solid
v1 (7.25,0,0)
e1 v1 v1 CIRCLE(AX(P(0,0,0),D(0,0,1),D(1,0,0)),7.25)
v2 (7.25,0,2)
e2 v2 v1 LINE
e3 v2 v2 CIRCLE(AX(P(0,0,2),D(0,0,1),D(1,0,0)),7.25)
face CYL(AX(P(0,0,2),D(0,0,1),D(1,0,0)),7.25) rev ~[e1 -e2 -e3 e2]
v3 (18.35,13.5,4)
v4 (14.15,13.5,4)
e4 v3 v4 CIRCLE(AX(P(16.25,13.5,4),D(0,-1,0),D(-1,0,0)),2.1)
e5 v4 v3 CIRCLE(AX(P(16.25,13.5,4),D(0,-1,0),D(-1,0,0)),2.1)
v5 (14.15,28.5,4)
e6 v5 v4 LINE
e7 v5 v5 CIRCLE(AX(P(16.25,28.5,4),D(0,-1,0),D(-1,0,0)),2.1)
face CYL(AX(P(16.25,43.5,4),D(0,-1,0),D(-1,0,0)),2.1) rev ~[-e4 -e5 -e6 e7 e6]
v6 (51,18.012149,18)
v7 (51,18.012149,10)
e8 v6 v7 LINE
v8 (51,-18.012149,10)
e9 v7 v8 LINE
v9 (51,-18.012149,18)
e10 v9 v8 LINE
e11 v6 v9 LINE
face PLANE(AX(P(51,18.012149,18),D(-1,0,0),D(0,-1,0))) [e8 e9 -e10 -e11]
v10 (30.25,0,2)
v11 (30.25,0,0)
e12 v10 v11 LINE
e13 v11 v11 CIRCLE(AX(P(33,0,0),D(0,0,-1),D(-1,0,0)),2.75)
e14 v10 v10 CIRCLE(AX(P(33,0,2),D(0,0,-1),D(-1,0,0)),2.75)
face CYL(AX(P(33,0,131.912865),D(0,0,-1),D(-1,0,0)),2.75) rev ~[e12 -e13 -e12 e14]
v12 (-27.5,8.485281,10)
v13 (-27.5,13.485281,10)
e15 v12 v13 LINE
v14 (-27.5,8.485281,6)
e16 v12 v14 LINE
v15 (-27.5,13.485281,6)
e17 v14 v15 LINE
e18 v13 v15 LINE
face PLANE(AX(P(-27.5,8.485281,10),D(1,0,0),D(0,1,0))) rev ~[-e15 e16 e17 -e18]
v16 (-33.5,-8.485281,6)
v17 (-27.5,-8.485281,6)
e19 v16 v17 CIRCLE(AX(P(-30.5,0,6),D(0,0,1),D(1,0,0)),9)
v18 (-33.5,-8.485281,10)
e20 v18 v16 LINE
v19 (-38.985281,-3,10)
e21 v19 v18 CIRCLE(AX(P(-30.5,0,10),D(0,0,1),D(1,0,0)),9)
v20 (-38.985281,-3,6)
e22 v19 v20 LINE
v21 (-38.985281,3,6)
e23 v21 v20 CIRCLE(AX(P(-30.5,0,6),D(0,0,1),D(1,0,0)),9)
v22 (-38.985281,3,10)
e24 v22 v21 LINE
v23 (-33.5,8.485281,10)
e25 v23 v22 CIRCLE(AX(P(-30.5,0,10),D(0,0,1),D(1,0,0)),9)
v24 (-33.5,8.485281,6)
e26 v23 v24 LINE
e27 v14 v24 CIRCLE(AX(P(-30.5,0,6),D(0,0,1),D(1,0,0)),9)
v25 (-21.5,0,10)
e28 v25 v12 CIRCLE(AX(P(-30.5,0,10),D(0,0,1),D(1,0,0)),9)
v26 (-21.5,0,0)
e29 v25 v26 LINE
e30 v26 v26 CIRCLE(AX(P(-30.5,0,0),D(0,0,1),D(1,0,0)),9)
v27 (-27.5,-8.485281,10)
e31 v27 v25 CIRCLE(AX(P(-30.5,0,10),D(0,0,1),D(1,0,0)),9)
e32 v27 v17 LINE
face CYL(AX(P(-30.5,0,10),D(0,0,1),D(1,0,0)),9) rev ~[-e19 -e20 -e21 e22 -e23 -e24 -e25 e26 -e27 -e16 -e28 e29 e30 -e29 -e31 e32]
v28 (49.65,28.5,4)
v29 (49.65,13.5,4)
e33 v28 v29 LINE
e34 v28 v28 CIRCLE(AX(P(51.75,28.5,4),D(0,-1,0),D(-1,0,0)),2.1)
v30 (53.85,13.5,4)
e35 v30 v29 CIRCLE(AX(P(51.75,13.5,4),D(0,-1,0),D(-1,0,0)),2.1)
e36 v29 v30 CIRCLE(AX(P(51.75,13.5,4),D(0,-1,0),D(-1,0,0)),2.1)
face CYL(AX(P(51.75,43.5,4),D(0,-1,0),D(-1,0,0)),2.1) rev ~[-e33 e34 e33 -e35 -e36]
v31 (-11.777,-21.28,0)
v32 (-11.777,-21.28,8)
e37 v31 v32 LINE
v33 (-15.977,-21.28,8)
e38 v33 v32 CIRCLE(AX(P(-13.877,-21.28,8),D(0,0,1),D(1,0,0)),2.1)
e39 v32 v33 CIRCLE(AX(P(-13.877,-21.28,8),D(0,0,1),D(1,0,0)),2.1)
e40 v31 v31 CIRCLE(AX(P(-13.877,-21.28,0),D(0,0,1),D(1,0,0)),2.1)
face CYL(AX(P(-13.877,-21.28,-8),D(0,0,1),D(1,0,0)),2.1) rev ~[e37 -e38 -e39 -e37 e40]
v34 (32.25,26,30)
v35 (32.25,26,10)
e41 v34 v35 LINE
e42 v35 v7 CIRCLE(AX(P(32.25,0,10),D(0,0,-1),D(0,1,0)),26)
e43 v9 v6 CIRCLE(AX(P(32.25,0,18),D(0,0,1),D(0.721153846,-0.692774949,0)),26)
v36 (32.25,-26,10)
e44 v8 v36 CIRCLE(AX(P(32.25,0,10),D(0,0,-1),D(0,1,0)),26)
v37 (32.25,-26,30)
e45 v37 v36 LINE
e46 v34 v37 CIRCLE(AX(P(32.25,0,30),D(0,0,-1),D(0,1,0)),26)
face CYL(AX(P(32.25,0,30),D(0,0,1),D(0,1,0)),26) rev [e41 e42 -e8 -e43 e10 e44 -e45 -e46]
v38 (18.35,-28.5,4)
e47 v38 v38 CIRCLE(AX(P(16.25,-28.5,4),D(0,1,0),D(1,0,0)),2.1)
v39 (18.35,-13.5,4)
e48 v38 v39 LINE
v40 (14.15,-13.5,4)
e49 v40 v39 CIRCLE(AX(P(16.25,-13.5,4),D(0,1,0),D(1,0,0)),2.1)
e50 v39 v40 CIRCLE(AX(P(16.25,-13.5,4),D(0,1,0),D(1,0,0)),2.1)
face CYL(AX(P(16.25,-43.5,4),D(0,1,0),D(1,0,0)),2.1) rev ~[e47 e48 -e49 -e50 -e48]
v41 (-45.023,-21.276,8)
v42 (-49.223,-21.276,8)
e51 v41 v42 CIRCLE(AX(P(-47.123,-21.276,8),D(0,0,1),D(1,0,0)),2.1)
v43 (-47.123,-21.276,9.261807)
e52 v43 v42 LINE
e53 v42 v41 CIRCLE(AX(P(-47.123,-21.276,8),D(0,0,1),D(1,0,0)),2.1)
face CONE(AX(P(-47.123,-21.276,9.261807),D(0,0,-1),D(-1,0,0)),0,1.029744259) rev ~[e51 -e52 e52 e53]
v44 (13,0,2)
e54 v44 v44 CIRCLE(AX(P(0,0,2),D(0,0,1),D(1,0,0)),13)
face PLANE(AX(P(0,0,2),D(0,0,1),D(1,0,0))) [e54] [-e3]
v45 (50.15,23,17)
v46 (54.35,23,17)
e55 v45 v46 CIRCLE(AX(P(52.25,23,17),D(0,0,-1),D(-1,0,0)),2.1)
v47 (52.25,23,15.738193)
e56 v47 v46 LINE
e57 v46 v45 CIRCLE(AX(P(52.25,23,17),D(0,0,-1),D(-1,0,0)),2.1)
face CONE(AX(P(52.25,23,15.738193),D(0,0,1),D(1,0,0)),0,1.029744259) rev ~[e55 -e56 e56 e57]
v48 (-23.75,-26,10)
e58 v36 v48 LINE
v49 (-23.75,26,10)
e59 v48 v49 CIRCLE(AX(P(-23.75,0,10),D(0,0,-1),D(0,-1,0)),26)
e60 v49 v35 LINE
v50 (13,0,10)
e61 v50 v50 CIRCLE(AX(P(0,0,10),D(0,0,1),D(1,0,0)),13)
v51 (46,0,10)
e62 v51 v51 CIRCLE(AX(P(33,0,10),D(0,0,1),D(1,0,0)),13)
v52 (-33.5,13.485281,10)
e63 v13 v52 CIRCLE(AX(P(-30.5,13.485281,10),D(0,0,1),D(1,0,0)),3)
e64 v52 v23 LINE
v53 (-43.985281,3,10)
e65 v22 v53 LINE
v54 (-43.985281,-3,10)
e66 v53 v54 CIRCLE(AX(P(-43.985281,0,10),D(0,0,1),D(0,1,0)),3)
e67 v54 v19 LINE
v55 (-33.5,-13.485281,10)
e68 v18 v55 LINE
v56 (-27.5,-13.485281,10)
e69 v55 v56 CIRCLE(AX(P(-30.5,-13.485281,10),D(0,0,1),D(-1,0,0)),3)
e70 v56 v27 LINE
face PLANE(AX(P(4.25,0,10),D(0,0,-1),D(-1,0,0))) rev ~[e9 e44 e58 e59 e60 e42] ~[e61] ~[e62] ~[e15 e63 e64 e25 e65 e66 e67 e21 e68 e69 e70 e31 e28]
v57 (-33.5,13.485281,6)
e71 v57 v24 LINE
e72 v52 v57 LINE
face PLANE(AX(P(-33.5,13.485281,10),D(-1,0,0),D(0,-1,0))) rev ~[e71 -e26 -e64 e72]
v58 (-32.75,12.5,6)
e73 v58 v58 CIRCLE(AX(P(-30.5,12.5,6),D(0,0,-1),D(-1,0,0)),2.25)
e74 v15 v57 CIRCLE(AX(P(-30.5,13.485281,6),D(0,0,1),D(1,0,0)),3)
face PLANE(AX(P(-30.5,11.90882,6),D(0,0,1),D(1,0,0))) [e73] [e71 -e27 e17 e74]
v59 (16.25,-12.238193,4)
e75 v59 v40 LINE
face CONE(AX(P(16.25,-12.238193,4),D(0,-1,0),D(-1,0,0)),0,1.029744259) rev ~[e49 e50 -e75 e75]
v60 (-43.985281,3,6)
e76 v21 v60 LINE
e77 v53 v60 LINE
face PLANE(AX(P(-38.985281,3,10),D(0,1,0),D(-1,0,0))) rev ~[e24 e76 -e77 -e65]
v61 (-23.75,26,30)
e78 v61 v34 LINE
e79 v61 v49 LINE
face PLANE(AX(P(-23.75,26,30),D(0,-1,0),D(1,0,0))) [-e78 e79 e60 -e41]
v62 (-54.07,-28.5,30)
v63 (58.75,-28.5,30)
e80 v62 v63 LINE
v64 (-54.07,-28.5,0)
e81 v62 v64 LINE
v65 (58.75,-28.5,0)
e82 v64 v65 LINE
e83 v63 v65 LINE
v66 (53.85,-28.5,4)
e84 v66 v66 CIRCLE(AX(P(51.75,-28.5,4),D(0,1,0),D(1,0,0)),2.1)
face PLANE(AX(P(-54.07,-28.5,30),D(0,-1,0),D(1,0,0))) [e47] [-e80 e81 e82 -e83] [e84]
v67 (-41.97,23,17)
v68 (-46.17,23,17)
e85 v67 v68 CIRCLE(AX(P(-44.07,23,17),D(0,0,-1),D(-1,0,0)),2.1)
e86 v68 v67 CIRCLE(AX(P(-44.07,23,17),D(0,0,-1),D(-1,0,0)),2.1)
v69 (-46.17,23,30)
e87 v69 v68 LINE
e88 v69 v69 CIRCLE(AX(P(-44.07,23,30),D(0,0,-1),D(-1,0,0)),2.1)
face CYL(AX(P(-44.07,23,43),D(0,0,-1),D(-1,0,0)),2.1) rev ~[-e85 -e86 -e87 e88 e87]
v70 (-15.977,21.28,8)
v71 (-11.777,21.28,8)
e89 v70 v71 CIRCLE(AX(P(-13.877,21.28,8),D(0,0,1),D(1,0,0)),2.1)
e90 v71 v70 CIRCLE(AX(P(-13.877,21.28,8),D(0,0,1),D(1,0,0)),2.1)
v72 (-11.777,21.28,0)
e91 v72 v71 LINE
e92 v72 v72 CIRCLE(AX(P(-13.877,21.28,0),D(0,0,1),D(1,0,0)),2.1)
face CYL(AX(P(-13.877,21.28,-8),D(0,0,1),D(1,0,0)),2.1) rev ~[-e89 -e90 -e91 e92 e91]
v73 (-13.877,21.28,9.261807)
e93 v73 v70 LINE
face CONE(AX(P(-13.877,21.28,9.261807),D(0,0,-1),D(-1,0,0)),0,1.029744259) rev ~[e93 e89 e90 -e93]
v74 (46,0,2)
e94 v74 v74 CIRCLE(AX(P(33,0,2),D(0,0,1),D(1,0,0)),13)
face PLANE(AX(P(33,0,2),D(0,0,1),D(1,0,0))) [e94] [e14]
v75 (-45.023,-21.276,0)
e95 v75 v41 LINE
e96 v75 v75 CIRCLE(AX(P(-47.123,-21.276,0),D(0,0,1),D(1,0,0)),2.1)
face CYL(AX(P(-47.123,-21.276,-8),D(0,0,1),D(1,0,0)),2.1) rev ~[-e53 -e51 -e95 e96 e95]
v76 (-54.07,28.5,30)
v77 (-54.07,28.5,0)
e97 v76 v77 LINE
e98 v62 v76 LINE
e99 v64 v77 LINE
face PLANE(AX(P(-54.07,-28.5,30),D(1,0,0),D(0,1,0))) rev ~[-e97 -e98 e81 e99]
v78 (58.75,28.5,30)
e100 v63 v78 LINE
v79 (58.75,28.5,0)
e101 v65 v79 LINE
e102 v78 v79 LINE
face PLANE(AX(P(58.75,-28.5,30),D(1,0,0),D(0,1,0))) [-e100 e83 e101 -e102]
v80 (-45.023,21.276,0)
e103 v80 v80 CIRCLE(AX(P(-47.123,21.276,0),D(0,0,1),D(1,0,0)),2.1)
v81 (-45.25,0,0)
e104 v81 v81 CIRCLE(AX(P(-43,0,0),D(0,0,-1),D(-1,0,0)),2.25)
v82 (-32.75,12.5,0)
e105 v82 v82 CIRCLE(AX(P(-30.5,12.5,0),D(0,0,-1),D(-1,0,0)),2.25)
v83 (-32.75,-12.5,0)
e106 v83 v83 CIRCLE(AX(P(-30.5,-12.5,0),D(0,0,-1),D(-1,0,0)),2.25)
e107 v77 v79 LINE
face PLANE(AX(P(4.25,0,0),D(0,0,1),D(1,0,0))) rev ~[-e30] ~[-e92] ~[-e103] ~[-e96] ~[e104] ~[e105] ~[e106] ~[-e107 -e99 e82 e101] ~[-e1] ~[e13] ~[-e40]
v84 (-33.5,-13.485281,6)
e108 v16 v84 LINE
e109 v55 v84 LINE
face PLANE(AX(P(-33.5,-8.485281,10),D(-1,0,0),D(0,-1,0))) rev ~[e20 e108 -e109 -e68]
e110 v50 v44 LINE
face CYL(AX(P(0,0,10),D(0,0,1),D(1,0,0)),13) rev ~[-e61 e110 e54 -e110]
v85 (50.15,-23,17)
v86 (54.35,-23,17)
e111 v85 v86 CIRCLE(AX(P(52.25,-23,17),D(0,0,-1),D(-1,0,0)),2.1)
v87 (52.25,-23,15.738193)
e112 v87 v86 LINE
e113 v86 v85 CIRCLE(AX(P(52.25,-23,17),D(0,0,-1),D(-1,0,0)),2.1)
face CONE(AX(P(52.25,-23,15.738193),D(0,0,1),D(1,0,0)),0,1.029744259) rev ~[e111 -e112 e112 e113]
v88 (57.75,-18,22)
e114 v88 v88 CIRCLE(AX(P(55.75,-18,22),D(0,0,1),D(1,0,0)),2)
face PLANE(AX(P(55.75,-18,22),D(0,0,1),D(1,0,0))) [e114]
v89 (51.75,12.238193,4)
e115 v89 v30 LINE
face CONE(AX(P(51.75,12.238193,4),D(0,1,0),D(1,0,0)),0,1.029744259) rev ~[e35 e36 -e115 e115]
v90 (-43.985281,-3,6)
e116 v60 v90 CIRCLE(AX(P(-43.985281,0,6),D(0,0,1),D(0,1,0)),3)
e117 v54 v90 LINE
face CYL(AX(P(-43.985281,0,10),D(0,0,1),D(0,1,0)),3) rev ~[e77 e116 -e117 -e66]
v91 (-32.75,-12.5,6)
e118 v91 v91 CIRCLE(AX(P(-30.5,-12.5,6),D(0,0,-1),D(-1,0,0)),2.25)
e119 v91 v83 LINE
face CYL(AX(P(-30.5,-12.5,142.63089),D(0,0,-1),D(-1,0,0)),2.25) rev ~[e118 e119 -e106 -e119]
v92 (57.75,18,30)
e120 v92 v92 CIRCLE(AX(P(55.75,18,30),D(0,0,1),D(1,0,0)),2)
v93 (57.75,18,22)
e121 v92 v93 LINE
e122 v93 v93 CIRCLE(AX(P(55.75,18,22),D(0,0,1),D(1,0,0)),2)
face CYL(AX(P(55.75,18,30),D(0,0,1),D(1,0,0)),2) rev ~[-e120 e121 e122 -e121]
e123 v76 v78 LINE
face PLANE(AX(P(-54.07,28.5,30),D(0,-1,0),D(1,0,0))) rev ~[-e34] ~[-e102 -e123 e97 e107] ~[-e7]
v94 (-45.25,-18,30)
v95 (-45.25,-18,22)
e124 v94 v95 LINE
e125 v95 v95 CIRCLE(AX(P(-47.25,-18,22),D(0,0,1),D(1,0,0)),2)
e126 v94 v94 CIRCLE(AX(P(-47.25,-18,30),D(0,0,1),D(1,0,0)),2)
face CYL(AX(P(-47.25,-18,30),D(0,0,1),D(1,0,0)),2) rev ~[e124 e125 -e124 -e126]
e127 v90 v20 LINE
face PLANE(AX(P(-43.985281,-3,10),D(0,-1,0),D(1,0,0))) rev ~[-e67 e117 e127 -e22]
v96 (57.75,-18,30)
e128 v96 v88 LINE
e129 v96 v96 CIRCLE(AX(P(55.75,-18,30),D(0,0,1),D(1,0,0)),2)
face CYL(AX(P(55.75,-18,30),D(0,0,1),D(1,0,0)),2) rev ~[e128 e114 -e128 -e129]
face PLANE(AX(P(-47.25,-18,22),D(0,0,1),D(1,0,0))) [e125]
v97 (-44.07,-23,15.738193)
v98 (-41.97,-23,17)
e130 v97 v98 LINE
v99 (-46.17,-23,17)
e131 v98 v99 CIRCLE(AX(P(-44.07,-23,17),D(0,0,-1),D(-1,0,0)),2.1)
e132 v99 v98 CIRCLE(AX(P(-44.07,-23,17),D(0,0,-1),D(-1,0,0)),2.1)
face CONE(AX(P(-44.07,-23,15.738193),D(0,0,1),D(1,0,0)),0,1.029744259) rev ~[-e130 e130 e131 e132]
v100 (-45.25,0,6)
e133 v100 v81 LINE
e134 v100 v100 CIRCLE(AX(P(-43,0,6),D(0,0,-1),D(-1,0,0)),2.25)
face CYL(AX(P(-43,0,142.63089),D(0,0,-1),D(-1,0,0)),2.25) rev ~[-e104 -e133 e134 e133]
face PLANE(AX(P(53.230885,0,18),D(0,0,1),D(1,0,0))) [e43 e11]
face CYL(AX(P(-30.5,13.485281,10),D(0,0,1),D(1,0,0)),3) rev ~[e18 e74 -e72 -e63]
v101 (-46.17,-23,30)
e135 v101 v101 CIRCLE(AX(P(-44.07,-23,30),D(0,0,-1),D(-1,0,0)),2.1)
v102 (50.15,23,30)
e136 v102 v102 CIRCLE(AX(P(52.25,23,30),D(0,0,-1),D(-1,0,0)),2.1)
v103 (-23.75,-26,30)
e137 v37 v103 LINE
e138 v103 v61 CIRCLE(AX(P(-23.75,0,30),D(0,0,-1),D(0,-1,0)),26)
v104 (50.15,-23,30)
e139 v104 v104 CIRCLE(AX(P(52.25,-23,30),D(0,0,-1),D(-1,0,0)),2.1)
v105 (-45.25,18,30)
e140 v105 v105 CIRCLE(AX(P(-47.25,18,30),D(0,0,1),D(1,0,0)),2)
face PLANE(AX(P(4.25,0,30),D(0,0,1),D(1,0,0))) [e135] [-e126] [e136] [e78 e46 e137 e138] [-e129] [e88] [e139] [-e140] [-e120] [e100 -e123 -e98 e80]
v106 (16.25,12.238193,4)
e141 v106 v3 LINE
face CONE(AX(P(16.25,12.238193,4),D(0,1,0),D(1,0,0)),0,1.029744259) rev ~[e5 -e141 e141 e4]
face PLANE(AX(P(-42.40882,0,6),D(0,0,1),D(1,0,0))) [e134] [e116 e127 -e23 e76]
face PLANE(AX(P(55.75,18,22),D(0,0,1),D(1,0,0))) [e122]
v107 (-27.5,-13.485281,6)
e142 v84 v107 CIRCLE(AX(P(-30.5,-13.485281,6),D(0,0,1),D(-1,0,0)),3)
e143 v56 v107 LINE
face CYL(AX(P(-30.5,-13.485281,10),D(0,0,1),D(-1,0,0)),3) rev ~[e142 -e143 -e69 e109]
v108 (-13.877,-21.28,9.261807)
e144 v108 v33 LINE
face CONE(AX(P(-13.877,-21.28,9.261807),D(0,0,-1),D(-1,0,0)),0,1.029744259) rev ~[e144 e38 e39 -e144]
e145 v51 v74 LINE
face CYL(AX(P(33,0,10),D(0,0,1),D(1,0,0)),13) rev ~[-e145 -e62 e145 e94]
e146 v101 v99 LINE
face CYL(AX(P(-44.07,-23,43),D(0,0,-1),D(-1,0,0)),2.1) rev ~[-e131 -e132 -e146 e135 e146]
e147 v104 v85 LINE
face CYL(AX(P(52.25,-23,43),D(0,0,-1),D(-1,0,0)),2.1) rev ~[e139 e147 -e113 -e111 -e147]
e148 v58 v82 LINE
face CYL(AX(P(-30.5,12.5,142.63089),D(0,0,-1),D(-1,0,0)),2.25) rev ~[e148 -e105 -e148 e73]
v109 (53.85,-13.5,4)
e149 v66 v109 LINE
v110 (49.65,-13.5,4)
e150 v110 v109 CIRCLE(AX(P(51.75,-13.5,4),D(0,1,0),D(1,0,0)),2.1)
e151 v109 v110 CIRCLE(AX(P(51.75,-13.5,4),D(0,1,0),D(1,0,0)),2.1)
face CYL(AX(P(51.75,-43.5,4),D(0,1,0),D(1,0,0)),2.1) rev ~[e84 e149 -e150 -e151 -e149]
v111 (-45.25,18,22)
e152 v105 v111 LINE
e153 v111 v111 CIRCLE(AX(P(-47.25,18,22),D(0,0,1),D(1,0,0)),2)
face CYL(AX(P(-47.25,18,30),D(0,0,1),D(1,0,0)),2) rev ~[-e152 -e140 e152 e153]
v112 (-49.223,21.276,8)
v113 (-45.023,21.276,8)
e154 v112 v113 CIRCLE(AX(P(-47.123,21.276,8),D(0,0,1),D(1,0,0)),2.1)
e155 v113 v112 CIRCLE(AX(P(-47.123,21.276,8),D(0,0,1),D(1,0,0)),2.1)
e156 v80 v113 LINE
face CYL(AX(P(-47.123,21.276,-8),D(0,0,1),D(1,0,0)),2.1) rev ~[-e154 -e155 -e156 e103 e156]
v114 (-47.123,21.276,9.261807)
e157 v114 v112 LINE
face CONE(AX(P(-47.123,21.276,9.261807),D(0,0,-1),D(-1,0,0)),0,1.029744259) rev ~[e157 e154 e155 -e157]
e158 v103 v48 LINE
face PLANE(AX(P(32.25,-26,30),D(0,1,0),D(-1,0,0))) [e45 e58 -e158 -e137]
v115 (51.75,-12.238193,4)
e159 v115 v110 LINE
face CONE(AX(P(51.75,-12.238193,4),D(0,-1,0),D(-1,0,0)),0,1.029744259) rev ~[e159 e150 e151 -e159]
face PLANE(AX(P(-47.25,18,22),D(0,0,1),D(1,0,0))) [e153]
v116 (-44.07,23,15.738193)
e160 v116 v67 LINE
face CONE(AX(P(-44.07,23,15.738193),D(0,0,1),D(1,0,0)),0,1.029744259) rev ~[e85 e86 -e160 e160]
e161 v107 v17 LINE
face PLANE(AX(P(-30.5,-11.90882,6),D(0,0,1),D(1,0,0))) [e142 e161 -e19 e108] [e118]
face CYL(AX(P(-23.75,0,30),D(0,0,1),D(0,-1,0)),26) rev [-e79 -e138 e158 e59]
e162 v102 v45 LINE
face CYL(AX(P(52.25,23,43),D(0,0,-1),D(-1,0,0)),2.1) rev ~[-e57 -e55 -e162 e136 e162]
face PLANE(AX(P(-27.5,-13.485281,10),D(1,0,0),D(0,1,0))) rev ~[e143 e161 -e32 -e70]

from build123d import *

# Parameters (mm, degrees)
ESBO_O1_W                                   = 118
ESBO_O1_H                                   = 62
RESSALTO_EXTRUS_O1_DEPTH                    = 30
CORTE_EXTRUS_O1_DEPTH                       = 20
RESSALTO_EXTRUS_O2_START                    = 8
RESSALTO_EXTRUS_O2_DEPTH                    = 8
ESBO_O4_R                                   = 9
ESBO_O4_R_2                                 = 13
CORTE_EXTRUS_O2_DEPTH                       = 8
ESBO_O5_R                                   = 2
CORTE_EXTRUS_O3_DEPTH                       = 8
CORTE_EXTRUS_O4_DEPTH                       = 4
BROCA_DE_ROSQUEAR_PARA_TARRAXA_DE_M52_D     = 4.2
BROCA_DE_ROSQUEAR_PARA_TARRAXA_DE_M52_DEPTH = 13
BROCA_DE_ROSQUEAR_PARA_TARRAXA_DE_M52_TIP   = 1.2618073
FURO_COM_FOLGA_DE_M41_D                     = 4.5
ESBO_O17_W                                  = 118
ESBO_O17_H                                  = 62
ESBO_O17_W_2                                = 112.82
ESBO_O17_H_2                                = 57
CORTE_EXTRUS_O5_DEPTH                       = 77.560841819
BROCA_DE_ROSQUEAR_PARA_TARRAXA_DE_M54_D     = 4.2
BROCA_DE_ROSQUEAR_PARA_TARRAXA_DE_M54_DEPTH = 15
BROCA_DE_ROSQUEAR_PARA_TARRAXA_DE_M54_TIP   = 1.2618073
BROCA_DE_ROSQUEAR_PARA_TARRAXA_DE_M55_D     = 4.2
BROCA_DE_ROSQUEAR_PARA_TARRAXA_DE_M55_DEPTH = 15
BROCA_DE_ROSQUEAR_PARA_TARRAXA_DE_M55_TIP   = 1.2618073
ESBO_O25_R                                  = 9
CORTE_EXTRUS_O6_DEPTH                       = 69.29211155
BROCA_DE_ROSQUEAR_PARA_TARRAXA_DE_M56_D     = 4.2
BROCA_DE_ROSQUEAR_PARA_TARRAXA_DE_M56_DEPTH = 8
BROCA_DE_ROSQUEAR_PARA_TARRAXA_DE_M56_TIP   = 1.2618073
FURO_COM_FOLGA_DE_M51_D                     = 5.5
ESBO_O30_R                                  = 7.25
CORTE_EXTRUS_O9_DEPTH                       = 10


with BuildPart() as part:
    # Esboço1 → Ressalto-extrusão1 (new body)
    with BuildSketch(Plane.XY):
        with Locations((4.25, 0)):
            Rectangle(ESBO_O1_W, ESBO_O1_H)
    extrude(amount=RESSALTO_EXTRUS_O1_DEPTH)

    # Esboço2 → Corte-extrusão1 (cut)
    with BuildSketch(Plane.XY.offset(30)):
        with BuildLine():
            Line((-23.75, 26), (32.25, 26))
            ThreePointArc((32.25, 26), (58.25, 0), (32.25, -26))
            Line((32.25, -26), (-23.75, -26))
            ThreePointArc((-23.75, -26), (-49.75, 0), (-23.75, 26))
        make_face()
    extrude(amount=-CORTE_EXTRUS_O1_DEPTH, mode=Mode.SUBTRACT)

    # Esboço3 → Ressalto-extrusão2 (add)
    with BuildSketch(Plane.XY.offset(10).offset(RESSALTO_EXTRUS_O2_START)):
        with BuildLine():
            Line((51, 18.012148678), (51, -18.012148678))
            ThreePointArc((51, -18.012148678), (58.25, 0), (51, 18.012148678))
        make_face()
    extrude(amount=-RESSALTO_EXTRUS_O2_DEPTH)

    # Esboço4 → Corte-extrusão2 (cut)
    with BuildSketch(Plane.XY.offset(10)):
        with Locations((-30.5, 0)):
            Circle(ESBO_O4_R)
        Circle(ESBO_O4_R_2)
        with Locations((33, 0)):
            Circle(ESBO_O4_R_2)
    extrude(amount=-CORTE_EXTRUS_O2_DEPTH, mode=Mode.SUBTRACT)

    # Esboço5 → Corte-extrusão3 (cut)
    with BuildSketch(Plane.XY.offset(30)):
        with Locations((-47.25, 18)):
            Circle(ESBO_O5_R)
        with Locations((55.75, 18)):
            Circle(ESBO_O5_R)
        with Locations((55.75, -18)):
            Circle(ESBO_O5_R)
        with Locations((-47.25, -18)):
            Circle(ESBO_O5_R)
    extrude(amount=-CORTE_EXTRUS_O3_DEPTH, mode=Mode.SUBTRACT)

    # Esboço6 → Corte-extrusão4 (cut)
    with BuildSketch(Plane.XY.offset(10)):
        with BuildLine():
            Line((-38.985281374, 3), (-43.985281374, 3))
            ThreePointArc((-43.985281374, 3), (-46.985281374, 0), (-43.985281374, -3))
            Line((-43.985281374, -3), (-38.985281374, -3))
            Line((-38.985281374, -3), (-38.985281374, 3))
        make_face()
        with BuildLine():
            Line((-33.5, 8.485281374), (-27.5, 8.485281374))
            Line((-27.5, 8.485281374), (-27.5, 13.485281374))
            ThreePointArc((-27.5, 13.485281374), (-30.5, 16.485281374), (-33.5, 13.485281374))
            Line((-33.5, 13.485281374), (-33.5, 8.485281374))
        make_face()
        with BuildLine():
            Line((-33.5, -8.485281374), (-33.5, -13.485281374))
            ThreePointArc((-33.5, -13.485281374), (-30.5, -16.485281374), (-27.5, -13.485281374))
            Line((-27.5, -13.485281374), (-27.5, -8.485281374))
            Line((-27.5, -8.485281374), (-33.5, -8.485281374))
        make_face()
    extrude(amount=-CORTE_EXTRUS_O4_DEPTH, mode=Mode.SUBTRACT)

    # Broca de rosquear para tarraxa de M52
    with Locations(Plane.XY.offset(30)):
        with Locations((-44.07, 23), (-44.07, -23), (52.25, -23), (52.25, 23)):
            Hole(BROCA_DE_ROSQUEAR_PARA_TARRAXA_DE_M52_D / 2, depth=BROCA_DE_ROSQUEAR_PARA_TARRAXA_DE_M52_DEPTH)
            with Locations((0, 0, -(BROCA_DE_ROSQUEAR_PARA_TARRAXA_DE_M52_DEPTH + BROCA_DE_ROSQUEAR_PARA_TARRAXA_DE_M52_TIP / 2))):  # 118° drill point
                Cone(0, BROCA_DE_ROSQUEAR_PARA_TARRAXA_DE_M52_D / 2, BROCA_DE_ROSQUEAR_PARA_TARRAXA_DE_M52_TIP, mode=Mode.SUBTRACT)

    # Furo com folga de M41 (through all)
    with Locations(Plane.XY.offset(6)):
        with Locations((-30.5, -12.5), (-43, 0), (-30.5, 12.5)):
            Hole(FURO_COM_FOLGA_DE_M41_D / 2)

    # Esboço17 → Corte-extrusão5 (cut, through all)
    with BuildSketch(Plane.XY.offset(30)):
        with Locations((4.25, 0)):
            Rectangle(ESBO_O17_W, ESBO_O17_H)
        with Locations((2.34, 0)):
            Rectangle(ESBO_O17_W_2, ESBO_O17_H_2, mode=Mode.SUBTRACT)
    extrude(amount=-CORTE_EXTRUS_O5_DEPTH, mode=Mode.SUBTRACT)

    # Broca de rosquear para tarraxa de M54
    with Locations(Plane(origin=(0, -28.5, 0), x_dir=(-1, 0, 0), z_dir=(0, -1, 0))):
        with Locations((-51.75, -4), (-16.25, -4)):
            Hole(BROCA_DE_ROSQUEAR_PARA_TARRAXA_DE_M54_D / 2, depth=BROCA_DE_ROSQUEAR_PARA_TARRAXA_DE_M54_DEPTH)
            with Locations((0, 0, -(BROCA_DE_ROSQUEAR_PARA_TARRAXA_DE_M54_DEPTH + BROCA_DE_ROSQUEAR_PARA_TARRAXA_DE_M54_TIP / 2))):  # 118° drill point
                Cone(0, BROCA_DE_ROSQUEAR_PARA_TARRAXA_DE_M54_D / 2, BROCA_DE_ROSQUEAR_PARA_TARRAXA_DE_M54_TIP, mode=Mode.SUBTRACT)

    # Broca de rosquear para tarraxa de M55
    with Locations(Plane(origin=(0, 28.5, 0), x_dir=(1, 0, 0), z_dir=(0, 1, 0))):
        with Locations((51.75, -4), (16.25, -4)):
            Hole(BROCA_DE_ROSQUEAR_PARA_TARRAXA_DE_M55_D / 2, depth=BROCA_DE_ROSQUEAR_PARA_TARRAXA_DE_M55_DEPTH)
            with Locations((0, 0, -(BROCA_DE_ROSQUEAR_PARA_TARRAXA_DE_M55_DEPTH + BROCA_DE_ROSQUEAR_PARA_TARRAXA_DE_M55_TIP / 2))):  # 118° drill point
                Cone(0, BROCA_DE_ROSQUEAR_PARA_TARRAXA_DE_M55_D / 2, BROCA_DE_ROSQUEAR_PARA_TARRAXA_DE_M55_TIP, mode=Mode.SUBTRACT)

    # Esboço25 → Corte-extrusão6 (cut, through all)
    with BuildSketch(Plane.XY.offset(10)):
        with Locations((-30.5, 0)):
            Circle(ESBO_O25_R)
    extrude(amount=-CORTE_EXTRUS_O6_DEPTH, mode=Mode.SUBTRACT)

    # Broca de rosquear para tarraxa de M56
    with Locations(Plane(origin=(0, 0, 0), x_dir=(-1, 0, 0), z_dir=(0, 0, -1))):
        with Locations((47.123, 21.276), (47.123, -21.276), (13.877, -21.28), (13.877, 21.28)):
            Hole(BROCA_DE_ROSQUEAR_PARA_TARRAXA_DE_M56_D / 2, depth=BROCA_DE_ROSQUEAR_PARA_TARRAXA_DE_M56_DEPTH)
            with Locations((0, 0, -(BROCA_DE_ROSQUEAR_PARA_TARRAXA_DE_M56_DEPTH + BROCA_DE_ROSQUEAR_PARA_TARRAXA_DE_M56_TIP / 2))):  # 118° drill point
                Cone(0, BROCA_DE_ROSQUEAR_PARA_TARRAXA_DE_M56_D / 2, BROCA_DE_ROSQUEAR_PARA_TARRAXA_DE_M56_TIP, mode=Mode.SUBTRACT)

    # Furo com folga de M51 (through all)
    with Locations(Plane.XY.offset(2)):
        with Locations((33, 0)):
            Hole(FURO_COM_FOLGA_DE_M51_D / 2)

    # Esboço30 → Corte-extrusão9 (cut)
    with BuildSketch(Plane.XY.offset(2)):
        Circle(ESBO_O30_R)
    extrude(amount=-CORTE_EXTRUS_O9_DEPTH, mode=Mode.SUBTRACT)


solid = part.part
